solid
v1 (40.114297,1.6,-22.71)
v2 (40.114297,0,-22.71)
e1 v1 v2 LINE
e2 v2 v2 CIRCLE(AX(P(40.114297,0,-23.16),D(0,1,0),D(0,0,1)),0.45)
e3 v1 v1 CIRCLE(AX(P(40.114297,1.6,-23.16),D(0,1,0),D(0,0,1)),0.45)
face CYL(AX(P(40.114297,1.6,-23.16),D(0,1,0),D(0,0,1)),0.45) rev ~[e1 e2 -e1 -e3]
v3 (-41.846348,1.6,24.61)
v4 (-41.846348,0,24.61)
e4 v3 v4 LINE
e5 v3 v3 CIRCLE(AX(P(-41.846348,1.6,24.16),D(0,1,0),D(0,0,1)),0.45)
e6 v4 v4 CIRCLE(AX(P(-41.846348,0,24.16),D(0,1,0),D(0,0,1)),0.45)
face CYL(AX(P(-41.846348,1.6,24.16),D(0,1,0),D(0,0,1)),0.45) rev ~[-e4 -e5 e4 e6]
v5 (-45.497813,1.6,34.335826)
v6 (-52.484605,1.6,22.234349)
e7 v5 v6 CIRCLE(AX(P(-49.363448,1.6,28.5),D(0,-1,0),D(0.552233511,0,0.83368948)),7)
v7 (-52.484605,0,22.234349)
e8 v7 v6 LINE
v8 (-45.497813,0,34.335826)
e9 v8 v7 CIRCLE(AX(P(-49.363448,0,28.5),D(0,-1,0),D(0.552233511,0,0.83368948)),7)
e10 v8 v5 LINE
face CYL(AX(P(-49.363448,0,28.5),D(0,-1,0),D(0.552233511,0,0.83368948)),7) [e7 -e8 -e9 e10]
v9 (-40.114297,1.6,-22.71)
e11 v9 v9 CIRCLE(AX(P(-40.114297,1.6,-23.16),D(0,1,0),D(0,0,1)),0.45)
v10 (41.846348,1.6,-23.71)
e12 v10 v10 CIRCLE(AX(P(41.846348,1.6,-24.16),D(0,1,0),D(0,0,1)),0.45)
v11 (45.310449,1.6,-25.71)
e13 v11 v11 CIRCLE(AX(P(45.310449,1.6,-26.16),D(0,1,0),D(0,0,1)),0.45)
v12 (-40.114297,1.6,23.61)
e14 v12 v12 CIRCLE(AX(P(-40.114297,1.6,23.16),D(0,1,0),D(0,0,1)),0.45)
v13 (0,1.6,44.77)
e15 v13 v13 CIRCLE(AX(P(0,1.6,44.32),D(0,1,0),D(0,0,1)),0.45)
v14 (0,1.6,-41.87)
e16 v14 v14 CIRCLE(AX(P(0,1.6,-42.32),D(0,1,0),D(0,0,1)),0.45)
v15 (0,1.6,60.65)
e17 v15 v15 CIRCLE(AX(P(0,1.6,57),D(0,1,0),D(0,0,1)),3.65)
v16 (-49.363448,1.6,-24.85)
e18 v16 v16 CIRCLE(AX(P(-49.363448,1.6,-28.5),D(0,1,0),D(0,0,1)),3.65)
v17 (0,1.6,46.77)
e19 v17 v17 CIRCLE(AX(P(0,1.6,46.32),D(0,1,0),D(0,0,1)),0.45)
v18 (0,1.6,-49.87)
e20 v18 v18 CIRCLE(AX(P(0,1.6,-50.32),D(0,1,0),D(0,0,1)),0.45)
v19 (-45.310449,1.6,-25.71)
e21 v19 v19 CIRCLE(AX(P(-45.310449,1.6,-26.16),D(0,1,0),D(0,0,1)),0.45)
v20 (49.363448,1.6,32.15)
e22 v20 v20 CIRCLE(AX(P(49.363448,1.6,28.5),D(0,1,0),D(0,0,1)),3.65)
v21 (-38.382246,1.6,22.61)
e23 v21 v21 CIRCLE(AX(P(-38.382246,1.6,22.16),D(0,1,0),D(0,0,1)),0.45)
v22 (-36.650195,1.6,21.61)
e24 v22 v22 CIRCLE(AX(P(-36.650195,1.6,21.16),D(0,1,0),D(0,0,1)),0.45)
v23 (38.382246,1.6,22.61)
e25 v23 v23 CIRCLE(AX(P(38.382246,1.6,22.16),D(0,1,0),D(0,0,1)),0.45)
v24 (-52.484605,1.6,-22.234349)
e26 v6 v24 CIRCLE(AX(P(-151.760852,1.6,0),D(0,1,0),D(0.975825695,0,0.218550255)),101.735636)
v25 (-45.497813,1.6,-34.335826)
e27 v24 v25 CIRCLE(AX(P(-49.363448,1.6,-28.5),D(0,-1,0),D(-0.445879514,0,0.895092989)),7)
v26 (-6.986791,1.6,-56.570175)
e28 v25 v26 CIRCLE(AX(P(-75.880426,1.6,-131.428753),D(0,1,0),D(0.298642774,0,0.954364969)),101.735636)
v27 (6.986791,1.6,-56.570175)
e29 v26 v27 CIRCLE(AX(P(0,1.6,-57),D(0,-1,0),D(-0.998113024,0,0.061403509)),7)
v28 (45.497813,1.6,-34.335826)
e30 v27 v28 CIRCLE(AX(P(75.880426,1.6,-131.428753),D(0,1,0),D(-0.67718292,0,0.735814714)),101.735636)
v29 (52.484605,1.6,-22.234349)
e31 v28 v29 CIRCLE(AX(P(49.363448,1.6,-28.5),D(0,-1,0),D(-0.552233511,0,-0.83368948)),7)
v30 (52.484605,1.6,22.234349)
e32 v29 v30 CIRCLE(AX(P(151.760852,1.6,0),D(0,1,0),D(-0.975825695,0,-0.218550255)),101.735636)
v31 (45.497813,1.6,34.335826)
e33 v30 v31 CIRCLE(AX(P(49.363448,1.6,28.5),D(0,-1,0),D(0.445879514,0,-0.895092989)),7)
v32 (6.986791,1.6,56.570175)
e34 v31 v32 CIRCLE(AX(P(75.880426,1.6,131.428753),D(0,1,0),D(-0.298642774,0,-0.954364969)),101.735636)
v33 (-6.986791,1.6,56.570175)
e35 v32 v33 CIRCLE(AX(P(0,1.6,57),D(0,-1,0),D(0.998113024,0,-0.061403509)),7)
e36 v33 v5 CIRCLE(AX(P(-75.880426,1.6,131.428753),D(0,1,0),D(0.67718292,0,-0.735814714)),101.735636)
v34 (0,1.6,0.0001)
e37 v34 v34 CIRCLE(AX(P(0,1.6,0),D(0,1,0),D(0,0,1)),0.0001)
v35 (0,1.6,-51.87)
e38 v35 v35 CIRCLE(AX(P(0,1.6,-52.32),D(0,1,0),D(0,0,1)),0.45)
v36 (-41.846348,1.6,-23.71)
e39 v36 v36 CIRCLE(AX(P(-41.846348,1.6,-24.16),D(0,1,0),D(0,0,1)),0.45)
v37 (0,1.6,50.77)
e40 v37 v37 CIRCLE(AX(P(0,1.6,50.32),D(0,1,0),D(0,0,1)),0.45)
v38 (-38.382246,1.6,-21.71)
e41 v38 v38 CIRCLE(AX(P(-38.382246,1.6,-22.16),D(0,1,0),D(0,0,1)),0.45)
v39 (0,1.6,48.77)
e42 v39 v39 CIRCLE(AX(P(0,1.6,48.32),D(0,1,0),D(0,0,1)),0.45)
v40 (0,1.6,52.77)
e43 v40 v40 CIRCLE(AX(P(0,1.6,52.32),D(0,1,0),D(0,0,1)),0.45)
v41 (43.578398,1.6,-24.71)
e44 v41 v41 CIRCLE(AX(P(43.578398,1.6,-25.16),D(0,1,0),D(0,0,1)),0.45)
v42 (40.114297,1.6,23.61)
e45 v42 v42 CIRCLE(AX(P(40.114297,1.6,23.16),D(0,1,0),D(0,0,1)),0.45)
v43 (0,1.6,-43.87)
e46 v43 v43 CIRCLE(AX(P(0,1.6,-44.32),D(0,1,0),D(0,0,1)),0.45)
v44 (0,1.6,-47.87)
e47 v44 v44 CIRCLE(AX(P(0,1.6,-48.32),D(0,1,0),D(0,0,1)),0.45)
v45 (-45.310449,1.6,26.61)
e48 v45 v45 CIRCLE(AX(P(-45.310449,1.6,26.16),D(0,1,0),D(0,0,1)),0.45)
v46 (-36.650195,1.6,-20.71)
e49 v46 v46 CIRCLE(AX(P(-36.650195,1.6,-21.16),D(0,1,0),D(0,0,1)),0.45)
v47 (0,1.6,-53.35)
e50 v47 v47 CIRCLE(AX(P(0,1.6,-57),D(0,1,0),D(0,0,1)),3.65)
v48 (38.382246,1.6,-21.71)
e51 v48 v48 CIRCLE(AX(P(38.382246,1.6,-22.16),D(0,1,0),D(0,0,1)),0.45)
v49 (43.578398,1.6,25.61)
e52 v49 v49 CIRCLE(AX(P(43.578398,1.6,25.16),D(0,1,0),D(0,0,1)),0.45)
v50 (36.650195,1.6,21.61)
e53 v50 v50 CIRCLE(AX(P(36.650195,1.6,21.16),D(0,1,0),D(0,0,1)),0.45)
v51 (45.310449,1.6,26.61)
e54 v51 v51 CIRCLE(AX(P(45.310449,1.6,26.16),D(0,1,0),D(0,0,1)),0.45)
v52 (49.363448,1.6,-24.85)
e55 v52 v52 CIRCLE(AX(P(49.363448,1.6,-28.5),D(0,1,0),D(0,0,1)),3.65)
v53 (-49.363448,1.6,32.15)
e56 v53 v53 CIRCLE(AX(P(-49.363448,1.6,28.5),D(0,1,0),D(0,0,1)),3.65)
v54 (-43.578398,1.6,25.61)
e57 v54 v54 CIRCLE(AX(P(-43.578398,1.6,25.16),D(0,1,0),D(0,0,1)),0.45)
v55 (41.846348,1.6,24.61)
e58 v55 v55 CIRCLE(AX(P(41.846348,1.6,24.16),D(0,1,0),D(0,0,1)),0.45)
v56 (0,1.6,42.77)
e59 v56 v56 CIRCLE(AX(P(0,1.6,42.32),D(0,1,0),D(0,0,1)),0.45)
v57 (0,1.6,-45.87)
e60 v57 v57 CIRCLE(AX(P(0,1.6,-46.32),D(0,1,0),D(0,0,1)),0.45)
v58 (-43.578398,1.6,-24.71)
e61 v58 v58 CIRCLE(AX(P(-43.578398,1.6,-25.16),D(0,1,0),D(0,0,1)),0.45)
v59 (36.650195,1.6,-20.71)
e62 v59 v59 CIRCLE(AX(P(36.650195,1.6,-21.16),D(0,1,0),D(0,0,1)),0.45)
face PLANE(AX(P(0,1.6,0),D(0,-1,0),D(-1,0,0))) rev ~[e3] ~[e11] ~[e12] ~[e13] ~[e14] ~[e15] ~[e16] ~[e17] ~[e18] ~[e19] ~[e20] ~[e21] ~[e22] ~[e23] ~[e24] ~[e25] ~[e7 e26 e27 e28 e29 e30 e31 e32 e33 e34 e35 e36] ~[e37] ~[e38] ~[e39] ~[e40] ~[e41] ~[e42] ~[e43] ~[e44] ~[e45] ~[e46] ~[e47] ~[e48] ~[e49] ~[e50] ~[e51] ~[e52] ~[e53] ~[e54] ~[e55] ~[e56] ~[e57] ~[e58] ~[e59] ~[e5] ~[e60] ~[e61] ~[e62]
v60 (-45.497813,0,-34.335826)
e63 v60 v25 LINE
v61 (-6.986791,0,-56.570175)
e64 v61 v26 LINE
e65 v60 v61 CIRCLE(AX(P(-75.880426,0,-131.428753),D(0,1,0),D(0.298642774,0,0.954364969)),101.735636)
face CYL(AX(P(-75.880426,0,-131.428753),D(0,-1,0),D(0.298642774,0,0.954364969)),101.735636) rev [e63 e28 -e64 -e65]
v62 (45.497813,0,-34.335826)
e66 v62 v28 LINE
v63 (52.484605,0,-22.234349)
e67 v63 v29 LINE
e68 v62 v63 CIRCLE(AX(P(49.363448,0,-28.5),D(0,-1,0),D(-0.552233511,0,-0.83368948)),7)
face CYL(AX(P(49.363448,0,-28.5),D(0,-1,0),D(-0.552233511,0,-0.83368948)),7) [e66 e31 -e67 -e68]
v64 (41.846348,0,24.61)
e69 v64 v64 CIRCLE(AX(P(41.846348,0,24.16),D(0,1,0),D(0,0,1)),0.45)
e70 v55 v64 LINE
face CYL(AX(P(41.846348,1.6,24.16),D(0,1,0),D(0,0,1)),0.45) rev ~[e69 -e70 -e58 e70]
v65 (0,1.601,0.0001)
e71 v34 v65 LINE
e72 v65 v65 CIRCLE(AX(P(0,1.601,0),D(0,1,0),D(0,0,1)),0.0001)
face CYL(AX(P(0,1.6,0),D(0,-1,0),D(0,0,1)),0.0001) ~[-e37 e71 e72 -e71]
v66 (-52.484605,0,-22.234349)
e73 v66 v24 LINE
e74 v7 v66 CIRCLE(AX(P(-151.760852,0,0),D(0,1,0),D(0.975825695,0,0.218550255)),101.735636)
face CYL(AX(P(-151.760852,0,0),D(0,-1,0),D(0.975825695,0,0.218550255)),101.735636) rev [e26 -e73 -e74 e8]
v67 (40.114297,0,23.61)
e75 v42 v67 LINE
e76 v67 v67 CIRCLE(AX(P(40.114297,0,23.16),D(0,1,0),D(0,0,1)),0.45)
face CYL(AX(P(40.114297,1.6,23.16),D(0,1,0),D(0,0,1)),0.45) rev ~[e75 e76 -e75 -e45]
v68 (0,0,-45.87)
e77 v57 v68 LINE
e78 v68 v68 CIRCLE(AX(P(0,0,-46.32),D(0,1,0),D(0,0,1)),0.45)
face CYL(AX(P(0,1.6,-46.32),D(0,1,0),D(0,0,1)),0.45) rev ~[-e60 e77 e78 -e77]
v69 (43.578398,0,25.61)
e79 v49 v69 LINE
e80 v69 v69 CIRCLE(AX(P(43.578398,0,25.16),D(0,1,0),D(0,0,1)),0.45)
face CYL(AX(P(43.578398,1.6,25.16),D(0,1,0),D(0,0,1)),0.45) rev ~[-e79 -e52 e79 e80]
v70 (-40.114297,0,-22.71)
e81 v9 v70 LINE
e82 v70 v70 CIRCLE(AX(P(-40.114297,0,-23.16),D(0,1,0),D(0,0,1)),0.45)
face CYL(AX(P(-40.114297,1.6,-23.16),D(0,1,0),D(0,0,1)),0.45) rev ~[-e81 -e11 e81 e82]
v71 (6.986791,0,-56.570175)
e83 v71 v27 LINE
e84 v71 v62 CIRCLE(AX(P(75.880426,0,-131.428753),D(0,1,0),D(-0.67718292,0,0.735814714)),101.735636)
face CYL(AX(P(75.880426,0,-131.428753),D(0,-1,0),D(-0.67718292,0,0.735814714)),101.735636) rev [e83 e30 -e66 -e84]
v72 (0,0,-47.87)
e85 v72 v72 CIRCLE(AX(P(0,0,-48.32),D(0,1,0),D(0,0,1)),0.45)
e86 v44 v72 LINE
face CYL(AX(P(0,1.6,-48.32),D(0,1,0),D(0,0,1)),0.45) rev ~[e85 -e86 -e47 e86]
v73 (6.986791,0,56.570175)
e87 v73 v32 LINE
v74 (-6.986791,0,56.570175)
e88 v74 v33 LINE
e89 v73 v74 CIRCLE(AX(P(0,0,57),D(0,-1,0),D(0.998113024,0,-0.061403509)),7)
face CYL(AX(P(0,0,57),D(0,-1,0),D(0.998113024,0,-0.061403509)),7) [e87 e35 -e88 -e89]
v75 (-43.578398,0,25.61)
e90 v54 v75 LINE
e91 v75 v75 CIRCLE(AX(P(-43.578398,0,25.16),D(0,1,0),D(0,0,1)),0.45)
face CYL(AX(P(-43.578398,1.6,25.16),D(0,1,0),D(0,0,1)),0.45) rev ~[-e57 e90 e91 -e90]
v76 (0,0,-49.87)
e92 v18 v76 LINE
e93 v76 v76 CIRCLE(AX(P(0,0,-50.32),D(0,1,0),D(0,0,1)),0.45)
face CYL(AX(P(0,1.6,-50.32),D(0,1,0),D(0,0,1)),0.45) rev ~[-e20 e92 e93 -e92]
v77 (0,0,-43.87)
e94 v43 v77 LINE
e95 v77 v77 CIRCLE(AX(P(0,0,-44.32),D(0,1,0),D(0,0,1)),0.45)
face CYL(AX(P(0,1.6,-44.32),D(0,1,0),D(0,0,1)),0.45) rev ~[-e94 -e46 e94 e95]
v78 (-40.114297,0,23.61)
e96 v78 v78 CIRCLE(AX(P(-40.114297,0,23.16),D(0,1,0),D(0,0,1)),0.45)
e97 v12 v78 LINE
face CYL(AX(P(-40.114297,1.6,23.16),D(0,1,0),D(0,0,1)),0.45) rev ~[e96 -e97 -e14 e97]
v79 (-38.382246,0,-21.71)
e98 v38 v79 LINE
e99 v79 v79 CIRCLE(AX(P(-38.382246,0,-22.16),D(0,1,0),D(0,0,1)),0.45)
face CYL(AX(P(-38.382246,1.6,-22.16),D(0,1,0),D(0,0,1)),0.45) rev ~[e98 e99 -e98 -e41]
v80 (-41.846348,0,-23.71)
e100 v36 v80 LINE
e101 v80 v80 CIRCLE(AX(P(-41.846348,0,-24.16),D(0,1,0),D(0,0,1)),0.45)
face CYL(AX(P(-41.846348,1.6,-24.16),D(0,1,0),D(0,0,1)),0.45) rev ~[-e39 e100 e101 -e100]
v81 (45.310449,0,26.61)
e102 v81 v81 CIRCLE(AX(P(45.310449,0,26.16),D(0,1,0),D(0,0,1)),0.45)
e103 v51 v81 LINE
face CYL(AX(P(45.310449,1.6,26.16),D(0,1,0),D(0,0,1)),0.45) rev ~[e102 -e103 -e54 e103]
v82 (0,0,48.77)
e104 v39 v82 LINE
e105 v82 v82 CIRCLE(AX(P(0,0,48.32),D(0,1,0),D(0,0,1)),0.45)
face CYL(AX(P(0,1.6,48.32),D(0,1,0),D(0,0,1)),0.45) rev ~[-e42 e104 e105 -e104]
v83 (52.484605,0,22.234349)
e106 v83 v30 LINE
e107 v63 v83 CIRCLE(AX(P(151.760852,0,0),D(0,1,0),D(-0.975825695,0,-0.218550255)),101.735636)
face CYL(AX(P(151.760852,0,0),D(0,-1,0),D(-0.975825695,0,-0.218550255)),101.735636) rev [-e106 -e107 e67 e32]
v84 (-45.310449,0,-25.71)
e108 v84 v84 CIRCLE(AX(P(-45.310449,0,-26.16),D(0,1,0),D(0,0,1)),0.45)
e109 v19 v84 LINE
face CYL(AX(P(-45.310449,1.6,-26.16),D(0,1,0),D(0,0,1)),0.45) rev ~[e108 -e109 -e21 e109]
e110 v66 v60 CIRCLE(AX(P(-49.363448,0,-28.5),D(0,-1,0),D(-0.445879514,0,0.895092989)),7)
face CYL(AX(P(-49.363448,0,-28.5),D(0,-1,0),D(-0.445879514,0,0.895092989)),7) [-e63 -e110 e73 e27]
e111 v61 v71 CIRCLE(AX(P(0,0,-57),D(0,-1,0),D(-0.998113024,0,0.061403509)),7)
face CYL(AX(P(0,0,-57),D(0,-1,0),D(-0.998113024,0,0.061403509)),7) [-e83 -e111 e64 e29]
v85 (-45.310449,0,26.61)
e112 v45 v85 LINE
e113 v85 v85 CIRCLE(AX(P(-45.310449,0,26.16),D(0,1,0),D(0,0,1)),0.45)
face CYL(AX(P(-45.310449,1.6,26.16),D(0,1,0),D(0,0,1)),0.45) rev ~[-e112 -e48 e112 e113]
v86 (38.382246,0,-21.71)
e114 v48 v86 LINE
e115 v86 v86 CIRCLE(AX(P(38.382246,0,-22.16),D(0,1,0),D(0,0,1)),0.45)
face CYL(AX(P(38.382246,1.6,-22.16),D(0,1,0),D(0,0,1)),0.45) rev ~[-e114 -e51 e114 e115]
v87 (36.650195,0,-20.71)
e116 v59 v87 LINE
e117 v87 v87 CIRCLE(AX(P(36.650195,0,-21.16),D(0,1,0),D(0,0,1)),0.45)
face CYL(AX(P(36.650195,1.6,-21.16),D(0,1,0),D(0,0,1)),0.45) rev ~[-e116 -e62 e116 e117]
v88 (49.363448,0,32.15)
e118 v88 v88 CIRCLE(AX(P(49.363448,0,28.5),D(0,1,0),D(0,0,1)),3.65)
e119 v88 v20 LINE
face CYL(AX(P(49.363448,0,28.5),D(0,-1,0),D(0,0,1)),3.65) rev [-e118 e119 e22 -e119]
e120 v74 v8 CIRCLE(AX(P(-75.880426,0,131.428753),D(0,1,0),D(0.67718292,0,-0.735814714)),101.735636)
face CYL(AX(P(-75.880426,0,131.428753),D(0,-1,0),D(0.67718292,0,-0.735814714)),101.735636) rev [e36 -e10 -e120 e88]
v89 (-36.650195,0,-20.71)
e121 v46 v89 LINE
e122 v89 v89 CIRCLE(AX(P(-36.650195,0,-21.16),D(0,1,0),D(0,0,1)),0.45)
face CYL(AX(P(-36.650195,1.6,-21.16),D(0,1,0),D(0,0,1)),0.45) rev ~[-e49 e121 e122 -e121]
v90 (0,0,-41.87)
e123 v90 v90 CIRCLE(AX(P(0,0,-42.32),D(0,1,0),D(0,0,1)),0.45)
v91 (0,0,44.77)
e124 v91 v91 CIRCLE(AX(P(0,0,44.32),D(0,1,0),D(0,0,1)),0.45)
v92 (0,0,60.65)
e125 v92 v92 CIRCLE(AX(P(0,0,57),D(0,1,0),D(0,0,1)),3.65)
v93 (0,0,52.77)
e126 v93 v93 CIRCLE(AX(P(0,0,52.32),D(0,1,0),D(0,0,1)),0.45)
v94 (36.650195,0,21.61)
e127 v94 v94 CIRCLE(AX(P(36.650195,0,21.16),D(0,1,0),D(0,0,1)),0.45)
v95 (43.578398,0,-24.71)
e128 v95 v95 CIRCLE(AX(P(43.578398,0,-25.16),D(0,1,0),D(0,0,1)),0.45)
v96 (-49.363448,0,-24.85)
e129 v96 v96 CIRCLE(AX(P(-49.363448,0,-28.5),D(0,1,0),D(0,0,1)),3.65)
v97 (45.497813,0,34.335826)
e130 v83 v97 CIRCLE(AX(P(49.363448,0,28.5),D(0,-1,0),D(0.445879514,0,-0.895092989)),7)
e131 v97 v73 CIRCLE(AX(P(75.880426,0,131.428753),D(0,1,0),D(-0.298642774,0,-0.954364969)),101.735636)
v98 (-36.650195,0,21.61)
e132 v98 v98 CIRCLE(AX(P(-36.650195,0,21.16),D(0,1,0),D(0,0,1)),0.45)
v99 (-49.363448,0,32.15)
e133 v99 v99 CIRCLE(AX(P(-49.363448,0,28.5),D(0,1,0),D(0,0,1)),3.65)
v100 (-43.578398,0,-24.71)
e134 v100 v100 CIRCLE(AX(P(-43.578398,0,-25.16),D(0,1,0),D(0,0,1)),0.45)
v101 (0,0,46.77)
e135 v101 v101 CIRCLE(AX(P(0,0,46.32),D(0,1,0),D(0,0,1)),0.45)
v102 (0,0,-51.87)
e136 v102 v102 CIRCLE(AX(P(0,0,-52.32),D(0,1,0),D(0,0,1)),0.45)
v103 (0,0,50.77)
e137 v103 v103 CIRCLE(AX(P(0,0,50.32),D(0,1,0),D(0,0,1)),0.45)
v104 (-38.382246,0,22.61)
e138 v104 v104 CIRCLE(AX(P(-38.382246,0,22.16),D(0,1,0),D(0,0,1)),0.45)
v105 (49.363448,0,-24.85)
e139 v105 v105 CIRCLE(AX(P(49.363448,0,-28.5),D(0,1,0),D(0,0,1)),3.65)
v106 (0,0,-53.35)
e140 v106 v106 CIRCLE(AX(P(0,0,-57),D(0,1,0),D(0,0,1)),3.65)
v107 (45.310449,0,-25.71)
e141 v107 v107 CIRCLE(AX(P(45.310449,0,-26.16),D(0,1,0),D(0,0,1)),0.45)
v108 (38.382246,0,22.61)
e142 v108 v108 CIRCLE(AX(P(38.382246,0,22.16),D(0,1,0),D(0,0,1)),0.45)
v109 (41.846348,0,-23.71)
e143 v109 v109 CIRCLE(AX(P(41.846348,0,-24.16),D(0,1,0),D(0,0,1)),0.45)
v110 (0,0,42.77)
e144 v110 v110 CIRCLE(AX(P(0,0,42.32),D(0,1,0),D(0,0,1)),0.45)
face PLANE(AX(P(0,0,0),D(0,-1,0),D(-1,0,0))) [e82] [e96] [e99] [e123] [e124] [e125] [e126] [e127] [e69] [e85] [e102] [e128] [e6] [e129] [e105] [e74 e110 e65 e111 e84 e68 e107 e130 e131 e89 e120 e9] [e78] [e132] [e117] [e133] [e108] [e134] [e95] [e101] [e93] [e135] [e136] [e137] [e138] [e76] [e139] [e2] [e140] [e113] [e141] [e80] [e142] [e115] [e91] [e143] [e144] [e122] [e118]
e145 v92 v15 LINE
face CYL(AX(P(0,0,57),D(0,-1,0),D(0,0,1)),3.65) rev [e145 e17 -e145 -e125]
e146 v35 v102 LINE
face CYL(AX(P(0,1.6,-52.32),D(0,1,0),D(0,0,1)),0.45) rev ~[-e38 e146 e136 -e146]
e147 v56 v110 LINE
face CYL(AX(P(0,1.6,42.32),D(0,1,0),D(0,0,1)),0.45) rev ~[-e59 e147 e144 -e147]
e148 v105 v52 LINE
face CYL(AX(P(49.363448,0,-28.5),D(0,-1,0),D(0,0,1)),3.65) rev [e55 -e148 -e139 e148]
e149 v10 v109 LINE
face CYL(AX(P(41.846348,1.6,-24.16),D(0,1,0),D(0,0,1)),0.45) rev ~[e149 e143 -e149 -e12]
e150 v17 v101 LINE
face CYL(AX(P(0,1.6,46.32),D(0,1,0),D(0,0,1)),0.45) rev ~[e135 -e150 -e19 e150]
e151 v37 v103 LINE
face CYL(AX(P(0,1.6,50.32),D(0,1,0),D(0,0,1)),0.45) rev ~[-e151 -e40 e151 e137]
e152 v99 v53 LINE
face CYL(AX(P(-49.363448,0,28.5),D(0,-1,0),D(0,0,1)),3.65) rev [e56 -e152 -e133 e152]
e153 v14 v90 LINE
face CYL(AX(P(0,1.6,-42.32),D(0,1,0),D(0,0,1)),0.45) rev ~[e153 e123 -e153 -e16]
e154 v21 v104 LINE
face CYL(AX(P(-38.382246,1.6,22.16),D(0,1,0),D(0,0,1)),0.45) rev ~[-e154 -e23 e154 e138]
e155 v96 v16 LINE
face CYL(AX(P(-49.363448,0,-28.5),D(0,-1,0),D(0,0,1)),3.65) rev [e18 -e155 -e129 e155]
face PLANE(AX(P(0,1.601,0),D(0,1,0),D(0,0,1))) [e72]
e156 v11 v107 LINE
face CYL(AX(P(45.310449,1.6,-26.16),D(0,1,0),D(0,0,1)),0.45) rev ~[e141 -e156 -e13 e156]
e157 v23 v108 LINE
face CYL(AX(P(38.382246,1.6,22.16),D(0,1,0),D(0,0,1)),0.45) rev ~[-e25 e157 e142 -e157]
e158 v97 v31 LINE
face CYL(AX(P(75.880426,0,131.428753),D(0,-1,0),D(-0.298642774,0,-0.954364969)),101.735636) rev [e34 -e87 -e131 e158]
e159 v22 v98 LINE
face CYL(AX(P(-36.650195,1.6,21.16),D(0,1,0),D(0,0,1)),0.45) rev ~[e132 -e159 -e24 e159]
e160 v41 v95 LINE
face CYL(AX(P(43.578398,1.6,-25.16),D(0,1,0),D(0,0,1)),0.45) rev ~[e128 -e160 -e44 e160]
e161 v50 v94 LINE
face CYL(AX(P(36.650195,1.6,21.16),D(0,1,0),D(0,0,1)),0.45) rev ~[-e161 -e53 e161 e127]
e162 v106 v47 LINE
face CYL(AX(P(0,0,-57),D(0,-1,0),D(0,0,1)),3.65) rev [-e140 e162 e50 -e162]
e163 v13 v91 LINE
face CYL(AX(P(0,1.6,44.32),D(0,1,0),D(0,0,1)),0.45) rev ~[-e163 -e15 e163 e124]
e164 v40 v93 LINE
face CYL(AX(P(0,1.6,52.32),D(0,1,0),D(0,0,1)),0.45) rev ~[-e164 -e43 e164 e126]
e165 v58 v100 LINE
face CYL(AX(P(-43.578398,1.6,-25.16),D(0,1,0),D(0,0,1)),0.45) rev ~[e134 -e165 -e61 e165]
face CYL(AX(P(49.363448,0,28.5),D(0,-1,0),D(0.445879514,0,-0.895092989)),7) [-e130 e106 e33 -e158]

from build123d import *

# Parameters (mm, degrees)
ESBO_O1_R                = 3.65
RESSALTO_EXTRUS_O1_DEPTH = 1.6
ESBO_O3_R                = 0.0001
RESSALTO_EXTRUS_O3_DEPTH = 0.001
ESBO_O5_R                = 0.45
CORTE_EXTRUS_O2_DEPTH    = 1.6


with BuildPart() as part:
    # Esboço1 → Ressalto-extrusão1 (new body)
    with BuildSketch(Plane(origin=(0, 0, 0), x_dir=(1, 0, 0), z_dir=(0, 1, 0))):
        with BuildLine():
            ThreePointArc((-52.484604611, -22.234349076), (-50.025216279, 0), (-52.484604611, 22.234349076))
            ThreePointArc((-52.484604611, 22.234349076), (-55.425625842, 32), (-45.497813442, 34.335826363))
            ThreePointArc((-45.497813442, 34.335826363), (-25.01260814, 43.323108128), (-6.98679117, 56.570175439))
            ThreePointArc((-6.98679117, 56.570175439), (0, 64), (6.98679117, 56.570175439))
            ThreePointArc((6.98679117, 56.570175439), (25.01260814, 43.323108128), (45.497813442, 34.335826363))
            ThreePointArc((45.497813442, 34.335826363), (55.425625842, 32), (52.484604611, 22.234349076))
            ThreePointArc((52.484604611, 22.234349076), (50.025216279, 0), (52.484604611, -22.234349076))
            ThreePointArc((52.484604611, -22.234349076), (55.425625842, -32), (45.497813442, -34.335826363))
            ThreePointArc((45.497813442, -34.335826363), (25.01260814, -43.323108128), (6.98679117, -56.570175439))
            ThreePointArc((6.98679117, -56.570175439), (0, -64), (-6.98679117, -56.570175439))
            ThreePointArc((-6.98679117, -56.570175439), (-25.01260814, -43.323108128), (-45.497813442, -34.335826363))
            ThreePointArc((-45.497813442, -34.335826363), (-55.425625842, -32), (-52.484604611, -22.234349076))
        make_face()
        with Locations(Location((-49.363448016, 28.5, 0), (0, 0, 270))):
            Circle(ESBO_O1_R, mode=Mode.SUBTRACT)
        with Locations(Location((-49.363448016, -28.5, 0), (0, 0, 270))):
            Circle(ESBO_O1_R, mode=Mode.SUBTRACT)
        with Locations(Location((0, -57, 0), (0, 0, 270))):
            Circle(ESBO_O1_R, mode=Mode.SUBTRACT)
        with Locations(Location((49.363448016, -28.5, 0), (0, 0, 270))):
            Circle(ESBO_O1_R, mode=Mode.SUBTRACT)
        with Locations(Location((49.363448016, 28.5, 0), (0, 0, 270))):
            Circle(ESBO_O1_R, mode=Mode.SUBTRACT)
        with Locations(Location((0, 57, 0), (0, 0, 270))):
            Circle(ESBO_O1_R, mode=Mode.SUBTRACT)
    extrude(amount=RESSALTO_EXTRUS_O1_DEPTH)

    # Esboço3 → Ressalto-extrusão3 (add)
    with BuildSketch(Plane(origin=(0, 1.6, 0), x_dir=(1, 0, 0), z_dir=(0, 1, 0))):
        with Locations(Location((0, 0, 0), (0, 0, 270))):
            Circle(ESBO_O3_R)
    extrude(amount=RESSALTO_EXTRUS_O3_DEPTH)

    # Esboço5 → Corte-extrusão2 (cut)
    with BuildSketch(Plane(origin=(0, 1.6, 0), x_dir=(1, 0, 0), z_dir=(0, 1, 0))):
        with Locations(Location((0, -52.32, 0), (0, 0, 270))):
            Circle(ESBO_O5_R)
        with Locations(Location((-45.310449126, -26.16, 0), (0, 0, 270))):
            Circle(ESBO_O5_R)
        with Locations(Location((-45.310449126, 26.16, 0), (0, 0, 270))):
            Circle(ESBO_O5_R)
        with Locations(Location((0, 52.32, 0), (0, 0, 270))):
            Circle(ESBO_O5_R)
        with Locations(Location((45.310449126, 26.16, 0), (0, 0, 270))):
            Circle(ESBO_O5_R)
        with Locations(Location((45.310449126, -26.16, 0), (0, 0, 270))):
            Circle(ESBO_O5_R)
        with Locations(Location((0, -50.32, 0), (0, 0, 270))):
            Circle(ESBO_O5_R)
        with Locations(Location((0, -48.32, 0), (0, 0, 270))):
            Circle(ESBO_O5_R)
        with Locations(Location((0, -46.32, 0), (0, 0, 270))):
            Circle(ESBO_O5_R)
        with Locations(Location((0, -44.32, 0), (0, 0, 270))):
            Circle(ESBO_O5_R)
        with Locations(Location((0, -42.32, 0), (0, 0, 270))):
            Circle(ESBO_O5_R)
        with Locations(Location((-36.650195088, -21.16, 0), (0, 0, 270))):
            Circle(ESBO_O5_R)
        with Locations(Location((-38.382245896, -22.16, 0), (0, 0, 270))):
            Circle(ESBO_O5_R)
        with Locations(Location((-40.114296703, -23.16, 0), (0, 0, 270))):
            Circle(ESBO_O5_R)
        with Locations(Location((-41.846347511, -24.16, 0), (0, 0, 270))):
            Circle(ESBO_O5_R)
        with Locations(Location((-43.578398318, -25.16, 0), (0, 0, 270))):
            Circle(ESBO_O5_R)
        with Locations(Location((-36.650195088, 21.16, 0), (0, 0, 270))):
            Circle(ESBO_O5_R)
        with Locations(Location((-38.382245896, 22.16, 0), (0, 0, 270))):
            Circle(ESBO_O5_R)
        with Locations(Location((-40.114296703, 23.16, 0), (0, 0, 270))):
            Circle(ESBO_O5_R)
        with Locations(Location((-41.846347511, 24.16, 0), (0, 0, 270))):
            Circle(ESBO_O5_R)
        with Locations(Location((-43.578398318, 25.16, 0), (0, 0, 270))):
            Circle(ESBO_O5_R)
        with Locations(Location((0, 42.32, 0), (0, 0, 270))):
            Circle(ESBO_O5_R)
        with Locations(Location((0, 44.32, 0), (0, 0, 270))):
            Circle(ESBO_O5_R)
        with Locations(Location((0, 46.32, 0), (0, 0, 270))):
            Circle(ESBO_O5_R)
        with Locations(Location((0, 48.32, 0), (0, 0, 270))):
            Circle(ESBO_O5_R)
        with Locations(Location((0, 50.32, 0), (0, 0, 270))):
            Circle(ESBO_O5_R)
        with Locations(Location((36.650195088, 21.16, 0), (0, 0, 270))):
            Circle(ESBO_O5_R)
        with Locations(Location((38.382245896, 22.16, 0), (0, 0, 270))):
            Circle(ESBO_O5_R)
        with Locations(Location((40.114296703, 23.16, 0), (0, 0, 270))):
            Circle(ESBO_O5_R)
        with Locations(Location((41.846347511, 24.16, 0), (0, 0, 270))):
            Circle(ESBO_O5_R)
        with Locations(Location((43.578398318, 25.16, 0), (0, 0, 270))):
            Circle(ESBO_O5_R)
        with Locations(Location((36.650195088, -21.16, 0), (0, 0, 270))):
            Circle(ESBO_O5_R)
        with Locations(Location((38.382245896, -22.16, 0), (0, 0, 270))):
            Circle(ESBO_O5_R)
        with Locations(Location((40.114296703, -23.16, 0), (0, 0, 270))):
            Circle(ESBO_O5_R)
        with Locations(Location((41.846347511, -24.16, 0), (0, 0, 270))):
            Circle(ESBO_O5_R)
        with Locations(Location((43.578398318, -25.16, 0), (0, 0, 270))):
            Circle(ESBO_O5_R)
    extrude(amount=-CORTE_EXTRUS_O2_DEPTH, mode=Mode.SUBTRACT)


solid = part.part
